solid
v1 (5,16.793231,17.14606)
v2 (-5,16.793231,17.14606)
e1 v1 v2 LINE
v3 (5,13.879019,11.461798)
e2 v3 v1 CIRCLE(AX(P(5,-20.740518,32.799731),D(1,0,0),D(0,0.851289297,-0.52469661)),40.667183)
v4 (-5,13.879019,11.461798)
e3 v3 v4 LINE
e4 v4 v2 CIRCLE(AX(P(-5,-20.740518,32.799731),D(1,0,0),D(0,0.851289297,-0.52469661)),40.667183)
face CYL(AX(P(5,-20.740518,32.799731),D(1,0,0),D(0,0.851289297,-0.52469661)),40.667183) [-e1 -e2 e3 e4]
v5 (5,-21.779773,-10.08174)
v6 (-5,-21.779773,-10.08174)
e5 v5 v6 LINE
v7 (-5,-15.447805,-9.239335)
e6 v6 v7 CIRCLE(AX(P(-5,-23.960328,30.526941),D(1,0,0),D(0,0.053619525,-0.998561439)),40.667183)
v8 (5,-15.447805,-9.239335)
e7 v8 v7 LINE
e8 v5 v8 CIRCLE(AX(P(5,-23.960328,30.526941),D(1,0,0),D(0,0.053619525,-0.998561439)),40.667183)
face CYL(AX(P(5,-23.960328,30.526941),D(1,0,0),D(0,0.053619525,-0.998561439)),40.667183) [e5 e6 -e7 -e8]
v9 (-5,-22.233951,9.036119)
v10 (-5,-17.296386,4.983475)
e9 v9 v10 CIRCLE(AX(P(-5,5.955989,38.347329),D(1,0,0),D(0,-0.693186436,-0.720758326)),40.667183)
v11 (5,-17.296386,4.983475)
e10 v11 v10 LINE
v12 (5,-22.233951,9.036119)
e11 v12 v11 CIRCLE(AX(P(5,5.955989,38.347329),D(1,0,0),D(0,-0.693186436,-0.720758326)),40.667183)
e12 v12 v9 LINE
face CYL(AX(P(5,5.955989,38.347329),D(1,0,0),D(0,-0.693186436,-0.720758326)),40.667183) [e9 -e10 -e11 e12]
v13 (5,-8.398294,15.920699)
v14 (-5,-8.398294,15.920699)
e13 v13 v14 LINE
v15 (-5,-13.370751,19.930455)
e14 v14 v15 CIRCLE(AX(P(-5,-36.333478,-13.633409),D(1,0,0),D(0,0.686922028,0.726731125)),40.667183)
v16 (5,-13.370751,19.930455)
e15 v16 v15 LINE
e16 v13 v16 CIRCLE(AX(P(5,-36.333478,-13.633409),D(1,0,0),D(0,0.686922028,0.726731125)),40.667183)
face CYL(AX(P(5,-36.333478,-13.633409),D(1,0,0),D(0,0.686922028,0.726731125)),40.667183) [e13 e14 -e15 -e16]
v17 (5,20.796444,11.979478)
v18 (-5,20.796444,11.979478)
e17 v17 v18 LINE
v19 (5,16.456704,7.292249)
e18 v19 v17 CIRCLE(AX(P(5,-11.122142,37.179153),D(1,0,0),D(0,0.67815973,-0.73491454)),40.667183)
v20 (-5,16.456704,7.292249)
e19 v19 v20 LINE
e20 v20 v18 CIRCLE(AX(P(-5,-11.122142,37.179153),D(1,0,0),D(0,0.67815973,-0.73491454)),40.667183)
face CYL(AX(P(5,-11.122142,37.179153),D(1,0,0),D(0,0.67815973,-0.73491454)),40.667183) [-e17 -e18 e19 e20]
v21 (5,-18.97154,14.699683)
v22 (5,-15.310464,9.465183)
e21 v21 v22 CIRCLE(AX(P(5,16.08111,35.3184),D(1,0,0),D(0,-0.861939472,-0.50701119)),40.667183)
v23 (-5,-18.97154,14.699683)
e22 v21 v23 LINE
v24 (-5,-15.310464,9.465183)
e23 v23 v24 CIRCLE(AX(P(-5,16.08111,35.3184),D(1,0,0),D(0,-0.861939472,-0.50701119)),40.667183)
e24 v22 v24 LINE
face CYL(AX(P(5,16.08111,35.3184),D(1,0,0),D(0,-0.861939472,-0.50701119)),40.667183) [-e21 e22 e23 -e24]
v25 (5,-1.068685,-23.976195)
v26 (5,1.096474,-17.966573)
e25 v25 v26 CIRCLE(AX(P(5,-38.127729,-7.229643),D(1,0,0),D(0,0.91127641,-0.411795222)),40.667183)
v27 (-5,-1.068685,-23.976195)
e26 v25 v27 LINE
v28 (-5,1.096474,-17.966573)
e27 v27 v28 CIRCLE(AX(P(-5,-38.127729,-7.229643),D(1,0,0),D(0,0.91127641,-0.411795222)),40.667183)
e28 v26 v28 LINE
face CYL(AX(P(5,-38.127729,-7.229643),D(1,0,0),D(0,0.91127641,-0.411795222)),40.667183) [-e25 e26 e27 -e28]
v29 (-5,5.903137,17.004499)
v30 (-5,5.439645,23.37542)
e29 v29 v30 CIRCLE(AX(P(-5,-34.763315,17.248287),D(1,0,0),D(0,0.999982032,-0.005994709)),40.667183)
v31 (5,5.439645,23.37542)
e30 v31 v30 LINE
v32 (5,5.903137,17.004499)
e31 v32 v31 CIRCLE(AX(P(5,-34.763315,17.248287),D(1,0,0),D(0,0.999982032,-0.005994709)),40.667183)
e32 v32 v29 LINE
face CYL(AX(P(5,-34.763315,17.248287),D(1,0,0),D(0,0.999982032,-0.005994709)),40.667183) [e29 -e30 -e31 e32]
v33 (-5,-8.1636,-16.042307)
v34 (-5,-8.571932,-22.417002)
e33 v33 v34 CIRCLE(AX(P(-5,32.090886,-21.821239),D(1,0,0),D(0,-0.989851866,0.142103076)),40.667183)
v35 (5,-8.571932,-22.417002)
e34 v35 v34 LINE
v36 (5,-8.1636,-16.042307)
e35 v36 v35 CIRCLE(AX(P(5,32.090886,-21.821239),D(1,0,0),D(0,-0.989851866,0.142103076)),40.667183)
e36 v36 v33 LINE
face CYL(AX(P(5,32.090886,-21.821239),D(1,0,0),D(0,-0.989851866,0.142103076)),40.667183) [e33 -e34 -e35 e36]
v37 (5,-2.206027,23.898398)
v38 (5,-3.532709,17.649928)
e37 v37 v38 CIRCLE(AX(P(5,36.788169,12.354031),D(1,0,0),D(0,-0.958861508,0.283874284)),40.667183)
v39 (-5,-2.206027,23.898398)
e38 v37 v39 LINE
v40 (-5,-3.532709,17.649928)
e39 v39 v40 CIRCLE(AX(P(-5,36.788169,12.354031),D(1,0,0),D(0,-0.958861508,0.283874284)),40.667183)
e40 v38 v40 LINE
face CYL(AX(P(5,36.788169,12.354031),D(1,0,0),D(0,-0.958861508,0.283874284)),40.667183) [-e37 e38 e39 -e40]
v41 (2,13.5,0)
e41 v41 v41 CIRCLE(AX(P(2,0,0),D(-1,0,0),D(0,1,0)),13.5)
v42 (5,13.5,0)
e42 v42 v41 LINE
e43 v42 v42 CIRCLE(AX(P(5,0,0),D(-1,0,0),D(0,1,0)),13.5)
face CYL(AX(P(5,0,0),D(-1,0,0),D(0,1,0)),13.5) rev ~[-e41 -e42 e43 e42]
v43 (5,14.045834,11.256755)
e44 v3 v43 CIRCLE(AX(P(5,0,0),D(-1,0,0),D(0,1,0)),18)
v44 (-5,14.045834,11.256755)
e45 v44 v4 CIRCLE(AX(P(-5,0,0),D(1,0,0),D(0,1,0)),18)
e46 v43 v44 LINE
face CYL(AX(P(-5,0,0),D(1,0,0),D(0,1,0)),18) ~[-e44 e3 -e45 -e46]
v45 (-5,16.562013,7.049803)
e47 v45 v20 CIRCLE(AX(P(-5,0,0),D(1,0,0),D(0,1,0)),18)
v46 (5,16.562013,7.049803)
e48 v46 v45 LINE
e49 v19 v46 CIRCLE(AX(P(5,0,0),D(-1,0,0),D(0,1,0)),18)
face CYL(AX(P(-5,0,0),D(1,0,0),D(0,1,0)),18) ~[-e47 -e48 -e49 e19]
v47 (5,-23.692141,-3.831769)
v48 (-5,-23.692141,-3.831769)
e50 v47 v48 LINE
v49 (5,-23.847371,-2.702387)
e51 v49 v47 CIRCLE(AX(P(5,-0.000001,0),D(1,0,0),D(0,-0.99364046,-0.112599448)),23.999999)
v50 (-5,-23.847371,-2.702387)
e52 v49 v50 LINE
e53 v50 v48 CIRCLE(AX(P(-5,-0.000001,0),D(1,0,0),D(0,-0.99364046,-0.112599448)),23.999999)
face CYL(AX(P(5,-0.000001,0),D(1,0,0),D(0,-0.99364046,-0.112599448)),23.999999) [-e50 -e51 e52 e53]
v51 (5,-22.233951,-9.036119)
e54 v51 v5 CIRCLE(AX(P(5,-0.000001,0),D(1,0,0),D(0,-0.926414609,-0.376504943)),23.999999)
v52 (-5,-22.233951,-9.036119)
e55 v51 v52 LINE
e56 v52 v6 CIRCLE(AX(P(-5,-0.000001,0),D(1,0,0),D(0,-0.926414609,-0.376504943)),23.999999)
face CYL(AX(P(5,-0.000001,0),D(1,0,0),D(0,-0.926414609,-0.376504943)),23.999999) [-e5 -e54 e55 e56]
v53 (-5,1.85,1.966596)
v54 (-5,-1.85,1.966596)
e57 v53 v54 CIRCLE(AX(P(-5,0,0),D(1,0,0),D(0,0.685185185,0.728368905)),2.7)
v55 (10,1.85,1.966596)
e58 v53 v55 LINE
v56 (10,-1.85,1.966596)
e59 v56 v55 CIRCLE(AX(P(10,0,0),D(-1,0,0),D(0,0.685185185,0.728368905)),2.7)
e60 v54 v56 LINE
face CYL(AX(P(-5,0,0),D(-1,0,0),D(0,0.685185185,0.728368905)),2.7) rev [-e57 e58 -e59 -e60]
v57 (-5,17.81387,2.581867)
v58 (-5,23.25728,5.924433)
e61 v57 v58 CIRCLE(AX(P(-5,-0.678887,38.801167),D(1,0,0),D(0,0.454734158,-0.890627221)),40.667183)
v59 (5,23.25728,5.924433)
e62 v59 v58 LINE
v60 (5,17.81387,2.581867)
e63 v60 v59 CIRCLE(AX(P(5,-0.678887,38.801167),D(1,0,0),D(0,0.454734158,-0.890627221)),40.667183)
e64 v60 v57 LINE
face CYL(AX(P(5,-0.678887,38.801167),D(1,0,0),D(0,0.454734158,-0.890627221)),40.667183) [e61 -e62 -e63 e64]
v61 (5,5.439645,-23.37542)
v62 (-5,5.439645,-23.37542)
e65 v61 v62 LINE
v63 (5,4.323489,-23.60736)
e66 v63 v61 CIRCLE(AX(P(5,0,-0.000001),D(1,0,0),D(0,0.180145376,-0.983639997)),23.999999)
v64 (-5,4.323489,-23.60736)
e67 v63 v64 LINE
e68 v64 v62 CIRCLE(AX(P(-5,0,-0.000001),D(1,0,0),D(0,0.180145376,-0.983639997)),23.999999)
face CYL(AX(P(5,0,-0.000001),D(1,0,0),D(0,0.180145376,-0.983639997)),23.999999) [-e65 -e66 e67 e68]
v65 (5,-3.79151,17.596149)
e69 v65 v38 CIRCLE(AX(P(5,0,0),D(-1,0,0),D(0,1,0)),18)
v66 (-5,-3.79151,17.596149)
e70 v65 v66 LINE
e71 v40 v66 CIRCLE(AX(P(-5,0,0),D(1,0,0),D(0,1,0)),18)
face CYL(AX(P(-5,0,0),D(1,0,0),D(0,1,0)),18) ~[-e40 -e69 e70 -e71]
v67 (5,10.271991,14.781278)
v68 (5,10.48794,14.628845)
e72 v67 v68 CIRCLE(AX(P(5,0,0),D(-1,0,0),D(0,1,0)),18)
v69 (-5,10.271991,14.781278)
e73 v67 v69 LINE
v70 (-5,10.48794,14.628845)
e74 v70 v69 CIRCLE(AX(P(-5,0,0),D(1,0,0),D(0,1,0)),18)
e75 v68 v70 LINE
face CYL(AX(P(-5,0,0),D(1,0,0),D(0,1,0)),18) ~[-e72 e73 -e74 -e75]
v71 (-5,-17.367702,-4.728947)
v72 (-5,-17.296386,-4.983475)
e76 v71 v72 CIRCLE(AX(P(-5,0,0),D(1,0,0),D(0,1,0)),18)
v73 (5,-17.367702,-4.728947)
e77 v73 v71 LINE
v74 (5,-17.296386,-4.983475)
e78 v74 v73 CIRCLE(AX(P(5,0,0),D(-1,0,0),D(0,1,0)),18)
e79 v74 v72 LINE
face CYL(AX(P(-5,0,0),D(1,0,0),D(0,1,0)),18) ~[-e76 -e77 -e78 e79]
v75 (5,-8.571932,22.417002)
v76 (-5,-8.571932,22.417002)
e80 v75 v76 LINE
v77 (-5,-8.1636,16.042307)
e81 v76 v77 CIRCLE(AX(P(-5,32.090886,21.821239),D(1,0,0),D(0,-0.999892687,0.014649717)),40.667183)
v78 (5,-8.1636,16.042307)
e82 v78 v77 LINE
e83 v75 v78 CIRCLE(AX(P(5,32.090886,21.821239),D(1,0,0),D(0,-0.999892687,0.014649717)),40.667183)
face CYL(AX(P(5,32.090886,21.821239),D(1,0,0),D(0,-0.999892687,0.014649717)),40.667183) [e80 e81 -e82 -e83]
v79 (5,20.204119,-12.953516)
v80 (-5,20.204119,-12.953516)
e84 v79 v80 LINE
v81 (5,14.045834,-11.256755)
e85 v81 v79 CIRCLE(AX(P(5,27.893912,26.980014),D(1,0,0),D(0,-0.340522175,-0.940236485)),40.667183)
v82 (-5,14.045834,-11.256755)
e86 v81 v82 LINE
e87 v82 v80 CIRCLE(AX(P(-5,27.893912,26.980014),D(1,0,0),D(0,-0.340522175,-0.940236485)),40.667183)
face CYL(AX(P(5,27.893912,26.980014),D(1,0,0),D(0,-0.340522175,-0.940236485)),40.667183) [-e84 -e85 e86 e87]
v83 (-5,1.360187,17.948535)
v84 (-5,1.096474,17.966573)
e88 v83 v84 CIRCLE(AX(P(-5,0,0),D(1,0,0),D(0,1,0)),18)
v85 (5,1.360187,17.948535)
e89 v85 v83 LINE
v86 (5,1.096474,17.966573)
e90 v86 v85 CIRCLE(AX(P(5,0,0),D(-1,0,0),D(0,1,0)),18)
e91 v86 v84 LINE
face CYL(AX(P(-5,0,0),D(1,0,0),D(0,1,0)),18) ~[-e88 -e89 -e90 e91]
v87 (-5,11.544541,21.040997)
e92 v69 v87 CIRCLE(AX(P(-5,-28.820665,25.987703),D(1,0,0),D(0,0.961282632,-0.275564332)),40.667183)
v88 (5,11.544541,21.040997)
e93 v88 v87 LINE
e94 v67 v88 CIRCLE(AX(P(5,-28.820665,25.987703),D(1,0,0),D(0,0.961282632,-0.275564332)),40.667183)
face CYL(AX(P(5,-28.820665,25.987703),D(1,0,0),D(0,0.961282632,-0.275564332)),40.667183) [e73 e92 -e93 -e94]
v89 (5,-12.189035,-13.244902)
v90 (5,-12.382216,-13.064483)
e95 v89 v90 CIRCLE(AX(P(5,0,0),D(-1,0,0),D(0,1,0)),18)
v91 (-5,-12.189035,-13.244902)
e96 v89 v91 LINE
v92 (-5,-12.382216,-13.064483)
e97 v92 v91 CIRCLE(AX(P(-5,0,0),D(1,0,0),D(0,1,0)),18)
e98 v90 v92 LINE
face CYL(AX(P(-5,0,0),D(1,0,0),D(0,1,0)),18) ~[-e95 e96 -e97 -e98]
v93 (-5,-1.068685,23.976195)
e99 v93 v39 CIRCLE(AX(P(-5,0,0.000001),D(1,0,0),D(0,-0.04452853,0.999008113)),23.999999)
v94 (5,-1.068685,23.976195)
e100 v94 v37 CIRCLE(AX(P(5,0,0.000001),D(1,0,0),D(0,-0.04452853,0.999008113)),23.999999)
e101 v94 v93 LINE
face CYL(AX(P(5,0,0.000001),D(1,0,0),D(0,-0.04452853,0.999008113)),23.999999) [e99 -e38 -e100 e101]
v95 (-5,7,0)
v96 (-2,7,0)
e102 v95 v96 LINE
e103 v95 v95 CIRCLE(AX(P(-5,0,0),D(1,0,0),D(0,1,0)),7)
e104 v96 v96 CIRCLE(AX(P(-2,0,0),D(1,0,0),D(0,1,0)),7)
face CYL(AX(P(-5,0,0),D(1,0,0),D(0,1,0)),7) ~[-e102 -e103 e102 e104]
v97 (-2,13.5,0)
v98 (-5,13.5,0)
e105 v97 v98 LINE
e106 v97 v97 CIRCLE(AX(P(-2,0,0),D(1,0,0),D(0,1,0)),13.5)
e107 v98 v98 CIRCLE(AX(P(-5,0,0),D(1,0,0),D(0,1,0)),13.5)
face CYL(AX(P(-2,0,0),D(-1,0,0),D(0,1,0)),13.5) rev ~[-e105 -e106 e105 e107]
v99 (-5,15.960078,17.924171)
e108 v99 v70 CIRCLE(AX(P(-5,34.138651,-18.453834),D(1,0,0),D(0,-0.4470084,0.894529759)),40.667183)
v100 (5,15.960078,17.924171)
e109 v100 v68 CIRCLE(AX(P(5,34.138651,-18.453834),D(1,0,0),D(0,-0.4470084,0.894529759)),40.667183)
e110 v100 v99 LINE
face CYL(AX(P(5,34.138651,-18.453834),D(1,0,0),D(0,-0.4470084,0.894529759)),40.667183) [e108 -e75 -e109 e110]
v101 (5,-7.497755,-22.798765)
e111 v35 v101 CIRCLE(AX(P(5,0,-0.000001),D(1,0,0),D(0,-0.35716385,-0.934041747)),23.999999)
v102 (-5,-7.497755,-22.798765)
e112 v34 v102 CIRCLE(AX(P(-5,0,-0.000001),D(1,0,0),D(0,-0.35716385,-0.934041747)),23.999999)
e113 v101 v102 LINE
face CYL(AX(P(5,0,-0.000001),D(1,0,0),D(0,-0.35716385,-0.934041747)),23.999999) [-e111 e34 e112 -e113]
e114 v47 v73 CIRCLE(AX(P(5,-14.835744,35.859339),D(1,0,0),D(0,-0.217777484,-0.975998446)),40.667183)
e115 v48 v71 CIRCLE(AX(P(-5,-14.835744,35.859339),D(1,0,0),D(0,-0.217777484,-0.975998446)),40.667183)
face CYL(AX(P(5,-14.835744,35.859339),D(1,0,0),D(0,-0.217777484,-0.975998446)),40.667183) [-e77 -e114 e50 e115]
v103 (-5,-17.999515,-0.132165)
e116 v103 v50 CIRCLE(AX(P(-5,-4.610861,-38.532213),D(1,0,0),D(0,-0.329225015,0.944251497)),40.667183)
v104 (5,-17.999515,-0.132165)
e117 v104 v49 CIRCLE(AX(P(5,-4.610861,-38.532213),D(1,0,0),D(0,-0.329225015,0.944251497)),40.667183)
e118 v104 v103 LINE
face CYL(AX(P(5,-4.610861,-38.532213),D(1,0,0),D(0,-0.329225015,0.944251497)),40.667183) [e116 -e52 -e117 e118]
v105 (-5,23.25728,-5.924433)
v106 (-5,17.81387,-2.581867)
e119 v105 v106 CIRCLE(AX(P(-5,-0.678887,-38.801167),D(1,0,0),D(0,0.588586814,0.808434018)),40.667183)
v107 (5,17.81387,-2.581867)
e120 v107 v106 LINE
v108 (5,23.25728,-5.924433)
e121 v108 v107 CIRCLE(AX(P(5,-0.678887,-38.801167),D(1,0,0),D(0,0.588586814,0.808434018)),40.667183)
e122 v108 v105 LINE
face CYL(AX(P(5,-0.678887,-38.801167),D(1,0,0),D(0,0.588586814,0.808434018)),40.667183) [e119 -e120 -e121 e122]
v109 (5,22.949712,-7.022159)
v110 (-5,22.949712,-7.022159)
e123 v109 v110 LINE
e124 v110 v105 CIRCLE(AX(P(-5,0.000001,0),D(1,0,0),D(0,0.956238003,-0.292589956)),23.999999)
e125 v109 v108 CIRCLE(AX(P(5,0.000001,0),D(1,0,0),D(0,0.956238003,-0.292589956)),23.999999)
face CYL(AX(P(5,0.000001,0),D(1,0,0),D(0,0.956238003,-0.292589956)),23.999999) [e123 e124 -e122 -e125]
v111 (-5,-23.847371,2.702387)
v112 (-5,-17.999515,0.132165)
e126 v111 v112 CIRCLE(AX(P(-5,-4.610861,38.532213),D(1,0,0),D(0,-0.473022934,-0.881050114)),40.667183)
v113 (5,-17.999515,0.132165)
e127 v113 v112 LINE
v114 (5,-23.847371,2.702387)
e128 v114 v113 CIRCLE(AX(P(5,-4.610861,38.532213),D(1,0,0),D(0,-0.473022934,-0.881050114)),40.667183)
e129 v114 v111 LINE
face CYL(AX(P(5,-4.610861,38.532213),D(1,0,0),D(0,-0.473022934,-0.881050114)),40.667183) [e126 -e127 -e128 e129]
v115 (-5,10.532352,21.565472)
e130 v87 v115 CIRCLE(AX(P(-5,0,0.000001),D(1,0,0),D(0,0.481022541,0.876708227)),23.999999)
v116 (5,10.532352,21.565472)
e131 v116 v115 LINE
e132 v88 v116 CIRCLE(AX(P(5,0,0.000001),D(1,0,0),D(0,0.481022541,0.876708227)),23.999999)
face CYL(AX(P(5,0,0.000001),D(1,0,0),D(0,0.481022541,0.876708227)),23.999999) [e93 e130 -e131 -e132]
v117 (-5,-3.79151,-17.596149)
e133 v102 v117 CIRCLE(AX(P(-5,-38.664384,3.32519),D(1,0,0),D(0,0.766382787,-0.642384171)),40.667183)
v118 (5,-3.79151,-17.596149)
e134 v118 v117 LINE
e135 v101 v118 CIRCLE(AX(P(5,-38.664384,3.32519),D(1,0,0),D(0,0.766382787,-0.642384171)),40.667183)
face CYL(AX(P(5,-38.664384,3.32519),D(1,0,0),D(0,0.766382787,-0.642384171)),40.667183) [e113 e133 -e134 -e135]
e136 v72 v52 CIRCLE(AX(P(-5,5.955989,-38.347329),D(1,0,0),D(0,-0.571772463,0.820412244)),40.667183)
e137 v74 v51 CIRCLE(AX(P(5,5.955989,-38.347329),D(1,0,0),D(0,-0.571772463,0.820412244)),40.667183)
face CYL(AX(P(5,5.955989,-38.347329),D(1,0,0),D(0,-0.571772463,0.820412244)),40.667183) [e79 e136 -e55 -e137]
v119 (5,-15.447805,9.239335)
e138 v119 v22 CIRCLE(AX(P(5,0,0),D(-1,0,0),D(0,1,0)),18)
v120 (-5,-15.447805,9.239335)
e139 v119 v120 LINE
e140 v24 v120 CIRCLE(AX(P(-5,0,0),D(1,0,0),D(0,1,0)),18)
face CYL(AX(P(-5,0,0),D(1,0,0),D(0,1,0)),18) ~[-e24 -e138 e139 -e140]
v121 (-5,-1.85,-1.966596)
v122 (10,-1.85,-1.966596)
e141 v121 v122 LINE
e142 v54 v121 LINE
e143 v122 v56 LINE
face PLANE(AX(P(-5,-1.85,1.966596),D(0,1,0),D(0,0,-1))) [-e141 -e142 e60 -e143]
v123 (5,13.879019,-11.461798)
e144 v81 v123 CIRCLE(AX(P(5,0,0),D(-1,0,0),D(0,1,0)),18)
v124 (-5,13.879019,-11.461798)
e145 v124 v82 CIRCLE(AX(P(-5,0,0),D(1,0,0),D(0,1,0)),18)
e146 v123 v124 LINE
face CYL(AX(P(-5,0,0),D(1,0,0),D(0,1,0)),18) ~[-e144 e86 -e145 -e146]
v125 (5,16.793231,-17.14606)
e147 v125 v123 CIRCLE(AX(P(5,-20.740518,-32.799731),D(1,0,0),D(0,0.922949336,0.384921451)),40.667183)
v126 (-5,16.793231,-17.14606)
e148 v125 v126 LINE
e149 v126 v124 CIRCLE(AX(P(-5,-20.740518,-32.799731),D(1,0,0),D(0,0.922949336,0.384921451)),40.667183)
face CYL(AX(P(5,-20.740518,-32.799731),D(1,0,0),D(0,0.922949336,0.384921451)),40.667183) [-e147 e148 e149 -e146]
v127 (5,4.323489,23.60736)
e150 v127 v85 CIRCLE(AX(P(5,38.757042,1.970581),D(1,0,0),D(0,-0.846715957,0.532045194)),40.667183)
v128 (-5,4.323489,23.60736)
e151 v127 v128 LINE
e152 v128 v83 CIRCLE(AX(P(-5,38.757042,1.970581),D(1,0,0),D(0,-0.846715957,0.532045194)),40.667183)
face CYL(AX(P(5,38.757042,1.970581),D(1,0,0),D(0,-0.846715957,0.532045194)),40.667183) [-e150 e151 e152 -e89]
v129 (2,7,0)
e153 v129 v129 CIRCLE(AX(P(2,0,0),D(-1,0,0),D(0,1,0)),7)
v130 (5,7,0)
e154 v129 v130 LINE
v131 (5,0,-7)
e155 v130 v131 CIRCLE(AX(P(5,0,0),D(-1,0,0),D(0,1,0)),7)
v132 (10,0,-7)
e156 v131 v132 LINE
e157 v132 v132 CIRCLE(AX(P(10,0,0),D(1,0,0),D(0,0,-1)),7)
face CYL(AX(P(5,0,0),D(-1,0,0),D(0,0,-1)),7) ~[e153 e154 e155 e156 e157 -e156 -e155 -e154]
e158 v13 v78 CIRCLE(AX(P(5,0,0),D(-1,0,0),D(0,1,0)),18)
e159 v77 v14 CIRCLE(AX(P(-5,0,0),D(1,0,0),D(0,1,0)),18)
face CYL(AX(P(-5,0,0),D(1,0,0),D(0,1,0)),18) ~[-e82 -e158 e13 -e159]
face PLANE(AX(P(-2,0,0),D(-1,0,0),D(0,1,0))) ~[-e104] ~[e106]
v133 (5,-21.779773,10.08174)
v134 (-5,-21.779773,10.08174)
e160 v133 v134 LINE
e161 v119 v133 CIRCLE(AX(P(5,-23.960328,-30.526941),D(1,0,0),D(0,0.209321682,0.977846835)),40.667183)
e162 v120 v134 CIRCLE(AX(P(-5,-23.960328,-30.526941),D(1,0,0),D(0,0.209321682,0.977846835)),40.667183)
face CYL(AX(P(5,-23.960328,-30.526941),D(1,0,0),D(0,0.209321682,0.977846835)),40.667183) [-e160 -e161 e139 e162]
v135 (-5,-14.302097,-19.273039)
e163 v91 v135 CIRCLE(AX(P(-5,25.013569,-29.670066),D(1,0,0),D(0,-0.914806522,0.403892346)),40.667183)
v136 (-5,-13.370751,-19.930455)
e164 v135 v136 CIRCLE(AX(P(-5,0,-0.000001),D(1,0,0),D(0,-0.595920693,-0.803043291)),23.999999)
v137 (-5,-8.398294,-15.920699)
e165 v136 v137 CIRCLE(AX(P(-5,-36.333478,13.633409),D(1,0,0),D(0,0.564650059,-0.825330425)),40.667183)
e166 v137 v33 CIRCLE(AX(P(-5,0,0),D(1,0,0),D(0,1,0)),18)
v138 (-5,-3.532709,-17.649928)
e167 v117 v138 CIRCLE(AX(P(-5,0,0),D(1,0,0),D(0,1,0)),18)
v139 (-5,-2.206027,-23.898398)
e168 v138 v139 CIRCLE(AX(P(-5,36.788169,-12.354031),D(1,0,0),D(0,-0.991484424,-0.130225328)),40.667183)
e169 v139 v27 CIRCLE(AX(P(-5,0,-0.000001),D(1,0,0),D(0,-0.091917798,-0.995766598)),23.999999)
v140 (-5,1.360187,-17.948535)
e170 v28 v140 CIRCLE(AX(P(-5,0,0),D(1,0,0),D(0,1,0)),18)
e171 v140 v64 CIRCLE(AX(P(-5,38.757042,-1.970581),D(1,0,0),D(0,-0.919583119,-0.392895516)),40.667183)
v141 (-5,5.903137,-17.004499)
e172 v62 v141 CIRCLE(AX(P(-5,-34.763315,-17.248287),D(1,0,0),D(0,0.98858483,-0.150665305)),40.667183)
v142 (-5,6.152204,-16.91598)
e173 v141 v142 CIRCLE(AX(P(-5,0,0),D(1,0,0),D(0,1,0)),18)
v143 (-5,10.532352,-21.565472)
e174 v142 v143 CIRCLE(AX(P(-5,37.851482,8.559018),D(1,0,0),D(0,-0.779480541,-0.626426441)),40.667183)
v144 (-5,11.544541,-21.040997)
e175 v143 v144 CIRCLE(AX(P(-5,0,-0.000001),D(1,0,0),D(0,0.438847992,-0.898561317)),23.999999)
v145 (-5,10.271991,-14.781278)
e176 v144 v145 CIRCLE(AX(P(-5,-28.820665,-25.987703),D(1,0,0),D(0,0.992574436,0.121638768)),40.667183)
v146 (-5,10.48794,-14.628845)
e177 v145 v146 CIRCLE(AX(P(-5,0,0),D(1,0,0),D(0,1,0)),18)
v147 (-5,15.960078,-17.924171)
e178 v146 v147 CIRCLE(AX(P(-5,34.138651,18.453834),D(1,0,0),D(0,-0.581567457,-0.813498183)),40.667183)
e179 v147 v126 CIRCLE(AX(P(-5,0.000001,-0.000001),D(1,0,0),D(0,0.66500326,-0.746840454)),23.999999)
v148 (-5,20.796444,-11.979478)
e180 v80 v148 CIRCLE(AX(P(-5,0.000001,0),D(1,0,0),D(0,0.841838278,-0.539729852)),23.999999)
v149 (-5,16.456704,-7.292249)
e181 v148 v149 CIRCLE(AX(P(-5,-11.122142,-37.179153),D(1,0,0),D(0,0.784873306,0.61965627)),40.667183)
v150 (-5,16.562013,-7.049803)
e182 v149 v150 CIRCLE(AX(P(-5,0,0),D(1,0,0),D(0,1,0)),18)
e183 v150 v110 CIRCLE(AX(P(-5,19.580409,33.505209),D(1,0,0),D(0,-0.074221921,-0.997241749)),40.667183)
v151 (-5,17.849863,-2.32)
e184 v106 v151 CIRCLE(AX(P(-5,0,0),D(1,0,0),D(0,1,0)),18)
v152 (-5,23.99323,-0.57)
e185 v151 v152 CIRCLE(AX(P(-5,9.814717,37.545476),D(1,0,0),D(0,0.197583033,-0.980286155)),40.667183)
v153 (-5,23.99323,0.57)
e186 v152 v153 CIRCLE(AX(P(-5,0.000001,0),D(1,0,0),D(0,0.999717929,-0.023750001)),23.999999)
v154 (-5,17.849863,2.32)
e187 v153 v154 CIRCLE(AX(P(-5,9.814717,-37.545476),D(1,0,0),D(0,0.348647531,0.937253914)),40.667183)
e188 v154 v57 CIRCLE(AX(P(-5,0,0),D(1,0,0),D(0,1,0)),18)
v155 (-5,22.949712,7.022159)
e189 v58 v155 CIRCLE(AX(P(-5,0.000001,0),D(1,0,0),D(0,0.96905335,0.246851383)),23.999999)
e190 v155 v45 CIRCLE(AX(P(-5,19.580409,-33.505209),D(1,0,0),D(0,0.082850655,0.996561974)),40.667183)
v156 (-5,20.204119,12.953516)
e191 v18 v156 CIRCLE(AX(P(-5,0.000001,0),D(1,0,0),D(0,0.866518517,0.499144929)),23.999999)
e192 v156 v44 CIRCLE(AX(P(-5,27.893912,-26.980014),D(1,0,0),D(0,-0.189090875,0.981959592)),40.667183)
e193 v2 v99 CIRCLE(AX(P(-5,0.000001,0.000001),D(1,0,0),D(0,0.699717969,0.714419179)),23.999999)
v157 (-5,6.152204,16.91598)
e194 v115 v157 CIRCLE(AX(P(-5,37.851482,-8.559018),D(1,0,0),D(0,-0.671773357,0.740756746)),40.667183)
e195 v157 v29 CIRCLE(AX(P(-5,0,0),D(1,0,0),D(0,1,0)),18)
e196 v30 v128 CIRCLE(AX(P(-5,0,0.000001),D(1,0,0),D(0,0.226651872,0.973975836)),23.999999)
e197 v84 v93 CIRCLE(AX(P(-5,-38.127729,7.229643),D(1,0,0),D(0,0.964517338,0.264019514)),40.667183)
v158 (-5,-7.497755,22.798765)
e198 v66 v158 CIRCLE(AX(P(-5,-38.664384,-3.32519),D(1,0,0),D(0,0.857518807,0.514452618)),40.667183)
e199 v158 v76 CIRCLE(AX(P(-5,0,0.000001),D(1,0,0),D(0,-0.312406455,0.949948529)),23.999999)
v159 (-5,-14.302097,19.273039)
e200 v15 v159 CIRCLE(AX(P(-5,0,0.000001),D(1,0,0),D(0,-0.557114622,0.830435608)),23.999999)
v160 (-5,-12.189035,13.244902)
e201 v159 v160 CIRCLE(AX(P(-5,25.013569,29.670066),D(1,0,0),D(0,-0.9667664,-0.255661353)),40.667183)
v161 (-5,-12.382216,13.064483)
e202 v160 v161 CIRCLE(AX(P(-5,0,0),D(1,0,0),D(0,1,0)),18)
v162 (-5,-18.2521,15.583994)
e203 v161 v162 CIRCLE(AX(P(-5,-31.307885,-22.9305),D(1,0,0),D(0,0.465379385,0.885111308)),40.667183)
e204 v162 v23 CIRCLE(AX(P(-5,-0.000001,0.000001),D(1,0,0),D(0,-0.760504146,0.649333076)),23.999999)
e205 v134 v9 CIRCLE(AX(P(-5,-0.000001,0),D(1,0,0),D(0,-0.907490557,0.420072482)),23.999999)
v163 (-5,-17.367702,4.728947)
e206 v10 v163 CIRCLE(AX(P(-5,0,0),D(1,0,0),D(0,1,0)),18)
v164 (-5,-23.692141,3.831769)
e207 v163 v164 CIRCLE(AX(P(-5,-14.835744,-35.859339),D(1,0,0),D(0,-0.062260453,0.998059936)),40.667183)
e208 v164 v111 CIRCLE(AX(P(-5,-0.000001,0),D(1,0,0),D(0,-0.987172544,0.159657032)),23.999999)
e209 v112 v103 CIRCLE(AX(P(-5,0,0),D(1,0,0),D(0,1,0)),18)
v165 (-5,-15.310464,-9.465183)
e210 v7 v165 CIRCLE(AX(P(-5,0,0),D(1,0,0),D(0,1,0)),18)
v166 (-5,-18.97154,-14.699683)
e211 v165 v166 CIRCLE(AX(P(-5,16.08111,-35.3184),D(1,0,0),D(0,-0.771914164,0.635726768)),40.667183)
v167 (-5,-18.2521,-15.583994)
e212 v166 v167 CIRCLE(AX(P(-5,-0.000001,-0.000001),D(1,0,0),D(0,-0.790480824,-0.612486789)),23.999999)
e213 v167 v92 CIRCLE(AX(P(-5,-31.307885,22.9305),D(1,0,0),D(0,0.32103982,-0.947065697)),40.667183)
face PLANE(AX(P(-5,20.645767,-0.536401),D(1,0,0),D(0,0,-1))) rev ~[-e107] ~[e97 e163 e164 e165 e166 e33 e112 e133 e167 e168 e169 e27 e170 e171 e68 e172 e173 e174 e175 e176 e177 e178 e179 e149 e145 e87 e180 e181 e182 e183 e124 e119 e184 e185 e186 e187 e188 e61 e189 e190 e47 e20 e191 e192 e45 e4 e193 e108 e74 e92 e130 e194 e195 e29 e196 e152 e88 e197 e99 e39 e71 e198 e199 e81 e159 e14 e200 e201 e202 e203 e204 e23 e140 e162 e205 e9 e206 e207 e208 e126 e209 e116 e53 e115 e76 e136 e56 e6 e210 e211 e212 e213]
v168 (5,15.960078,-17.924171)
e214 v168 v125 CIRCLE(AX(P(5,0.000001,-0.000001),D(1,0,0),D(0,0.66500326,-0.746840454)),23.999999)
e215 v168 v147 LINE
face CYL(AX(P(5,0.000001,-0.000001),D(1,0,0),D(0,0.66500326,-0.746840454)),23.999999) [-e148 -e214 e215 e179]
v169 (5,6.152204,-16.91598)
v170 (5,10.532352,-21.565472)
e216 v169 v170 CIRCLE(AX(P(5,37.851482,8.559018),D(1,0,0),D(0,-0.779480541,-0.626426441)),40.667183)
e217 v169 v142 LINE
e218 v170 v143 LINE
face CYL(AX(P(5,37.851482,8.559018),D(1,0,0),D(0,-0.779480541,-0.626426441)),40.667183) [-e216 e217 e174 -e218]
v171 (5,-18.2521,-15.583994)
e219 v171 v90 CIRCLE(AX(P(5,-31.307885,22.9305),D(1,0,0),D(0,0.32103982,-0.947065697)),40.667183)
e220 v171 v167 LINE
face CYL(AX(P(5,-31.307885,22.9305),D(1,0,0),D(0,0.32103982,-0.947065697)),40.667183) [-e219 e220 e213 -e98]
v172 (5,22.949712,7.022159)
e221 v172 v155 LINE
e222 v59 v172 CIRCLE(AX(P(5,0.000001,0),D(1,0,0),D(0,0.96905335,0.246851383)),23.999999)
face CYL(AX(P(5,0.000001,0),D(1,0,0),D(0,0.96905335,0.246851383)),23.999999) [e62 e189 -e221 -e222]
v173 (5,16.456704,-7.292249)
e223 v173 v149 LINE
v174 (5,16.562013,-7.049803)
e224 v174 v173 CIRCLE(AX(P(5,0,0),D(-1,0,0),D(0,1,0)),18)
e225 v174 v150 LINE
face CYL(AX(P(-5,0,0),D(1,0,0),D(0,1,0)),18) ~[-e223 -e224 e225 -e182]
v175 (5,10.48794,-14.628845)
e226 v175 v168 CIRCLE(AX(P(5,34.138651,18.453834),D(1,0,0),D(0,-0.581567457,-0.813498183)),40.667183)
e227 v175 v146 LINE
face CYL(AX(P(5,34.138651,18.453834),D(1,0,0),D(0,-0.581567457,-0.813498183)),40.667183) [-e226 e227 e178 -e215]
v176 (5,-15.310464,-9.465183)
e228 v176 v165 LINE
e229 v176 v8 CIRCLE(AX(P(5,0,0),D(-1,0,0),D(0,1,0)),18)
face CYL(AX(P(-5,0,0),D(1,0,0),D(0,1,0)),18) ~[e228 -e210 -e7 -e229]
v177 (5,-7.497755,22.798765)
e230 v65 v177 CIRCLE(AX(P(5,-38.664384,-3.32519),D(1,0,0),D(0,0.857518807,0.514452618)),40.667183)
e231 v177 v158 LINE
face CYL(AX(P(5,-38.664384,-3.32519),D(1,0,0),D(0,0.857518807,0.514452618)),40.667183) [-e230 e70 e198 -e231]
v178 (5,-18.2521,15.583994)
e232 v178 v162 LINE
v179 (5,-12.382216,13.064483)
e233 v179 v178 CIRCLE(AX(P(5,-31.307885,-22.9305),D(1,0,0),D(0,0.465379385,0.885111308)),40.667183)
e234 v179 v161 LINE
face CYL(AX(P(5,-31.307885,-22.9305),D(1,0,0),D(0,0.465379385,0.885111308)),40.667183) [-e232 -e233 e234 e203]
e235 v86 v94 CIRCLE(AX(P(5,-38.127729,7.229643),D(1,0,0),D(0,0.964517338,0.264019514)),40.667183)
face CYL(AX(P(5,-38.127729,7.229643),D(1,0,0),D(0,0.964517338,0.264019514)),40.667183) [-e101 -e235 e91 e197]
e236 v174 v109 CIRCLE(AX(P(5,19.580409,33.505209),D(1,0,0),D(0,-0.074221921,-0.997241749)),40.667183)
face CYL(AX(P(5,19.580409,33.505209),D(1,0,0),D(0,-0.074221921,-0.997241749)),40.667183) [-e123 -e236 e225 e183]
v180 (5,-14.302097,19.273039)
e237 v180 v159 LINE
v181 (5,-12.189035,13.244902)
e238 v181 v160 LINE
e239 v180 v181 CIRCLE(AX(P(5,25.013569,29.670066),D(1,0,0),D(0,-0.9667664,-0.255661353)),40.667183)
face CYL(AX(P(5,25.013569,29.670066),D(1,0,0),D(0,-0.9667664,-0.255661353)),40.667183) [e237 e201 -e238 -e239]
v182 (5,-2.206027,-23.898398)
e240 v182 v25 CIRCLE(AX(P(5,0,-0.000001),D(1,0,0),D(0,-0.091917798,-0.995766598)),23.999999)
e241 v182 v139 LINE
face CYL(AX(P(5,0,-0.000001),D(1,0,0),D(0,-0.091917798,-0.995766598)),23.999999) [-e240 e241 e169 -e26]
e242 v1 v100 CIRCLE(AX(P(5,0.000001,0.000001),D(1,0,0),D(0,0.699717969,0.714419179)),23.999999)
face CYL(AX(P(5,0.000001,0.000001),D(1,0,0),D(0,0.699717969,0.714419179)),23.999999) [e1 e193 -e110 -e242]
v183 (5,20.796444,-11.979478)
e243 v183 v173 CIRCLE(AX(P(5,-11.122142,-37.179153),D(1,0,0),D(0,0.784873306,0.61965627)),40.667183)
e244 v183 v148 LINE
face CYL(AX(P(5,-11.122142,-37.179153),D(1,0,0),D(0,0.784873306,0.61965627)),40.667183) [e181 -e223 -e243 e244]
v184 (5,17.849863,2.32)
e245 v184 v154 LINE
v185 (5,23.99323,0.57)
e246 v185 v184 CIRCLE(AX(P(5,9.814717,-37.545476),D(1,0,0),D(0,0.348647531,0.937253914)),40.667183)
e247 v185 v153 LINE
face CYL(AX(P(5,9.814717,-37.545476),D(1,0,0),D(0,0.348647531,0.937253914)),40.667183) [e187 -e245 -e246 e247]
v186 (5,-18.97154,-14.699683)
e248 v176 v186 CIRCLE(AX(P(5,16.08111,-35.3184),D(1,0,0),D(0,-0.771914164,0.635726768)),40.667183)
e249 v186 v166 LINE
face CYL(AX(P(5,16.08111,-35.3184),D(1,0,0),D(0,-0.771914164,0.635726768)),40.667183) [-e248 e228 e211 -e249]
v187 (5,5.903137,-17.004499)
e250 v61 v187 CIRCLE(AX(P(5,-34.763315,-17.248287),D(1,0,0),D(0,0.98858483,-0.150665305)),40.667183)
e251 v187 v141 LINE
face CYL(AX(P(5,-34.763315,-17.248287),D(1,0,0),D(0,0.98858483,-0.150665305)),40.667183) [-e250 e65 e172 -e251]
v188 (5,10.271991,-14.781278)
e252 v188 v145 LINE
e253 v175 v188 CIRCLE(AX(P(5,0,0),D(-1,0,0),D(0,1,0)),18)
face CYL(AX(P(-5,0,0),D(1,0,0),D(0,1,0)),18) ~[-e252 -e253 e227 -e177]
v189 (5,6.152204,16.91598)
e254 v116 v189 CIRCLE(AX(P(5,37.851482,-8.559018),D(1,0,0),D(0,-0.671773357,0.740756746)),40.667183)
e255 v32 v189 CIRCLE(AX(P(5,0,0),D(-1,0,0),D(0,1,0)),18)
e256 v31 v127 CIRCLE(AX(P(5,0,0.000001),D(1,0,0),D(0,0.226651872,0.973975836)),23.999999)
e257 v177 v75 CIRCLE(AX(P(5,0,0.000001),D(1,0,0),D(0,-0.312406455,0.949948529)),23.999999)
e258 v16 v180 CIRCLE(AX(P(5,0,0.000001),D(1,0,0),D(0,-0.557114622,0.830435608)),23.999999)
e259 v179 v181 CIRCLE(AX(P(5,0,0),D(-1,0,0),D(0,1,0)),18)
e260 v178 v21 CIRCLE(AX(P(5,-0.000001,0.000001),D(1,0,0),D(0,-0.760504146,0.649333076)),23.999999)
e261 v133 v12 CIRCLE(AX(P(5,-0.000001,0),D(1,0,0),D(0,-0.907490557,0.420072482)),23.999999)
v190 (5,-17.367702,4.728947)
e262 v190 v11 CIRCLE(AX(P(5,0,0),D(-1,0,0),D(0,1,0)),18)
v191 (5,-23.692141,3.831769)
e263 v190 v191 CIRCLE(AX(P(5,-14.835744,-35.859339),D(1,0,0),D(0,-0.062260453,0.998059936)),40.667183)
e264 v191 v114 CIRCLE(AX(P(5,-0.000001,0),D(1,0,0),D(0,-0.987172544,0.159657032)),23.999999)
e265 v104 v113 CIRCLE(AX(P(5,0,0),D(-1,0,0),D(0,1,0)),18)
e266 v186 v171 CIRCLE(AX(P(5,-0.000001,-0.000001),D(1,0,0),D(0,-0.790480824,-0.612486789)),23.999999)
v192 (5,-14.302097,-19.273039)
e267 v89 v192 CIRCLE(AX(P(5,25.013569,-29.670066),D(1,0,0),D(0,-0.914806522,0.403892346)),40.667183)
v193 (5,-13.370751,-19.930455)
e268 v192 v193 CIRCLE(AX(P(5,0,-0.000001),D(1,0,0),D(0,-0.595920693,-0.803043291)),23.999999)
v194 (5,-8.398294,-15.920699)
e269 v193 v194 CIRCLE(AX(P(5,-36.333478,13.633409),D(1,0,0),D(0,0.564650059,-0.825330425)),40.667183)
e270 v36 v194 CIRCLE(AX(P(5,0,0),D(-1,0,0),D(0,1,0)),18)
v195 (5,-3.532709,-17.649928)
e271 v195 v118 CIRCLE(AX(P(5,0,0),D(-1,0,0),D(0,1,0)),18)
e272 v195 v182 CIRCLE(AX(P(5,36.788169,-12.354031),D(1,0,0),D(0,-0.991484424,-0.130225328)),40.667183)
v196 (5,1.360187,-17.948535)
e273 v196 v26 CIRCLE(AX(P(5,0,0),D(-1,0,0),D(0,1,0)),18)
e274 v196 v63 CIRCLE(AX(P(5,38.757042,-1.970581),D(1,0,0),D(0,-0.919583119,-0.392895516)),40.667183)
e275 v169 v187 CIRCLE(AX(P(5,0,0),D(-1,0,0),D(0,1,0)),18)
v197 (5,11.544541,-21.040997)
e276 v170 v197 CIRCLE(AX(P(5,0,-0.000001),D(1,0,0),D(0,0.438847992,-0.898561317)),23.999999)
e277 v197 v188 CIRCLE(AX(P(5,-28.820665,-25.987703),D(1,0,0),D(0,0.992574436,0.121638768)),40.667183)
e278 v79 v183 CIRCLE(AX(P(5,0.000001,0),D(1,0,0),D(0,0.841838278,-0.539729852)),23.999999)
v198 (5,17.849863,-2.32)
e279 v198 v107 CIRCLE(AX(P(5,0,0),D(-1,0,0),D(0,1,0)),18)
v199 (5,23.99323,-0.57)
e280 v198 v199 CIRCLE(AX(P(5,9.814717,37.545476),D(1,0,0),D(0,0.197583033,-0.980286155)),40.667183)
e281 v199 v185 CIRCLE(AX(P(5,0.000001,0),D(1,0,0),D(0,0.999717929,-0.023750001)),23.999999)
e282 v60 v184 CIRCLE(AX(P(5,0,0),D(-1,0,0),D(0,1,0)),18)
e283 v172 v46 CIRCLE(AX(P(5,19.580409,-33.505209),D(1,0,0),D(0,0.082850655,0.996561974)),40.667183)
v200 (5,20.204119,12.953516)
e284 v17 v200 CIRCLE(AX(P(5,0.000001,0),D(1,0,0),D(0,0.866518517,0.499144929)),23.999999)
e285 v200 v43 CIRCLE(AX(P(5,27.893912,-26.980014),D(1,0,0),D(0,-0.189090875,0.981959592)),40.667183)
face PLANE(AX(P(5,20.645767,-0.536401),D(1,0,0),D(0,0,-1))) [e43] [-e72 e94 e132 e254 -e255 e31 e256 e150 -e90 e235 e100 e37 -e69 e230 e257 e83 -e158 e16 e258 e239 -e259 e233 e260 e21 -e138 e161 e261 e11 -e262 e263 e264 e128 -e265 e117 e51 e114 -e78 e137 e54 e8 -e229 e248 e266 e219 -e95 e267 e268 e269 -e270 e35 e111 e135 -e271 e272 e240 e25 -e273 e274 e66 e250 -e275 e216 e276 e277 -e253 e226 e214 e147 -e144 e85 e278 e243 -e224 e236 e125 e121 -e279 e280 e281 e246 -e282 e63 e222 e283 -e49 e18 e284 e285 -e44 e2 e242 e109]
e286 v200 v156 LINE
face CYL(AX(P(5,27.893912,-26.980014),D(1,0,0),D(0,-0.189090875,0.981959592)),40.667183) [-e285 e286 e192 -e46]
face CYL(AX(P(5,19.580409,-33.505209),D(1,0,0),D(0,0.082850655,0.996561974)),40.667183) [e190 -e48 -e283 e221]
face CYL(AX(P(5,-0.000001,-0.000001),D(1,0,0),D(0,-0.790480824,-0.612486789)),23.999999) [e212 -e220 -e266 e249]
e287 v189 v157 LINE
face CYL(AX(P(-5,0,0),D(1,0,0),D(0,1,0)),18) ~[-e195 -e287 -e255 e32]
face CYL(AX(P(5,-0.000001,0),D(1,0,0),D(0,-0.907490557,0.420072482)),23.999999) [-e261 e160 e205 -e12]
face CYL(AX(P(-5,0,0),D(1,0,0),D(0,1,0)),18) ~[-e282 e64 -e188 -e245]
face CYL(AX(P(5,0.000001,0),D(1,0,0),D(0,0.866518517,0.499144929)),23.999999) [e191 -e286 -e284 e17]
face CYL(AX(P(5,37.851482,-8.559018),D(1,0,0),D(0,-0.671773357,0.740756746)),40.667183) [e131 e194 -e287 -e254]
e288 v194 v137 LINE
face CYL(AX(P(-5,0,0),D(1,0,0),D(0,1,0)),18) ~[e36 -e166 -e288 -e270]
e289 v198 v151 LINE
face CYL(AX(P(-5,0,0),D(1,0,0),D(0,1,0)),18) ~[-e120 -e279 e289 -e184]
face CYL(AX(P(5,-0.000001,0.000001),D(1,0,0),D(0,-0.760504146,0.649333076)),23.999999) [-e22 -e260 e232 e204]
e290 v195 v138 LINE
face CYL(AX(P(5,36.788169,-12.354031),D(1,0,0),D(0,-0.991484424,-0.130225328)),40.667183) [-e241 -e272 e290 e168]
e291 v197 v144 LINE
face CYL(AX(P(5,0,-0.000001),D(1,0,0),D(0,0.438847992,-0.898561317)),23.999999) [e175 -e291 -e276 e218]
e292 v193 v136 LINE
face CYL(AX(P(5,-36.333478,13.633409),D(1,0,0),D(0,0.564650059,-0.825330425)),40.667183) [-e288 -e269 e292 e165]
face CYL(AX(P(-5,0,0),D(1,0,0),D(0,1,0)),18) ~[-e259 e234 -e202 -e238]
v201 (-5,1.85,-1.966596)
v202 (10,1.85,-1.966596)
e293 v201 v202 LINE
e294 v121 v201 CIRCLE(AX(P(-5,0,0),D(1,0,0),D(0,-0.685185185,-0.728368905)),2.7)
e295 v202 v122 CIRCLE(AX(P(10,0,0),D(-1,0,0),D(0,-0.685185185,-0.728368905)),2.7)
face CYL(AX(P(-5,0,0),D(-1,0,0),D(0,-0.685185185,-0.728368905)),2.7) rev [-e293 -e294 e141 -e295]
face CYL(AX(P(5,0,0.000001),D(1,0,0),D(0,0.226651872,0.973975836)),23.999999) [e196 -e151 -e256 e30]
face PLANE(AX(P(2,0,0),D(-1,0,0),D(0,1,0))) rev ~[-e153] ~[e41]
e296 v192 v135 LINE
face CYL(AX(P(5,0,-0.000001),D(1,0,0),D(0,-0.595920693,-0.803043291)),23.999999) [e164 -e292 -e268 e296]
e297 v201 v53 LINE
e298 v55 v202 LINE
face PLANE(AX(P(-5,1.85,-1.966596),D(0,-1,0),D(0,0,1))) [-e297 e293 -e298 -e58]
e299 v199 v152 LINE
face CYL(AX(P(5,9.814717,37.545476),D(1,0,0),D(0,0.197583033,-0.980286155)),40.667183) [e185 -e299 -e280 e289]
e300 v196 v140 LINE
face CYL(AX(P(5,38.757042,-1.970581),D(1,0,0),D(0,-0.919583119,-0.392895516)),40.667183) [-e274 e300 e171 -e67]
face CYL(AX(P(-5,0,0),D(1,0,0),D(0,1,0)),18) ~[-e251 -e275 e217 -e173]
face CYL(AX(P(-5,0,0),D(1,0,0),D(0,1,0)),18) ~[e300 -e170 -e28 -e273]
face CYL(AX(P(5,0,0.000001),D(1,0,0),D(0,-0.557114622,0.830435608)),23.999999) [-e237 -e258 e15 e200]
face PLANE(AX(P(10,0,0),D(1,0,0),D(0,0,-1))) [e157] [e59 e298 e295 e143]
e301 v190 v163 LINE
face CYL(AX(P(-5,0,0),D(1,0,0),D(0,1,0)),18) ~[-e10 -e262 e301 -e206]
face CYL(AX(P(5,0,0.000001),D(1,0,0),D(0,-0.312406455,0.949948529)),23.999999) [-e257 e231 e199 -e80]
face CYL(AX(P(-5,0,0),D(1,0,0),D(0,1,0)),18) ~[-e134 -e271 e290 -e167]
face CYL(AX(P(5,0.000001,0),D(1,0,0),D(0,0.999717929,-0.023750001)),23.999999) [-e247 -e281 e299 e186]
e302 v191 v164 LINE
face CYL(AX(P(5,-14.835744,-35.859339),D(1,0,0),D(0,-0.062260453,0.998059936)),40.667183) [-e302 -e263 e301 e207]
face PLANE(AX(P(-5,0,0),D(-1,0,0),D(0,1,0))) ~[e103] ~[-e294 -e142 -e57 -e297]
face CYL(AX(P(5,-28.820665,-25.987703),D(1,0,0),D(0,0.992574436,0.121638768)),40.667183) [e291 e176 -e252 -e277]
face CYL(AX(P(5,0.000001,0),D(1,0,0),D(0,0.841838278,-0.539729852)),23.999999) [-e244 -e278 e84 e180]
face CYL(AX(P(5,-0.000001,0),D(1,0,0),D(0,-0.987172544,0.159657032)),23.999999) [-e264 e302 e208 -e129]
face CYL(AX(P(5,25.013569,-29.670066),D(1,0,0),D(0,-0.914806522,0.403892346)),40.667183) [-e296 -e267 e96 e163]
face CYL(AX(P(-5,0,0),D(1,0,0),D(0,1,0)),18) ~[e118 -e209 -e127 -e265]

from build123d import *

# Parameters (mm, degrees)
REVOLVE_1_ANGLE          = 360
EXTRUDE_1_DEPTH          = 10
PATTERN_CIRCULAR_1_COUNT = 23
SKETCH_6_R               = 7
EXTRUDE_2_DEPTH          = 5
CUT_EXTRUDE_2_DEPTH      = 16


with BuildPart() as part:
    # 스케치3 → 회전1 (revolve, symmetric)
    with BuildSketch(Plane.XY) as revolve_1_sk:
        Polygon((-5, 18), (5, 18), (5, 13.5), (2, 13.5), (2, 7), (5, 7), (5, 0), (-5, 0), (-5, 7), (-2, 7), (-2, 13.5), (-5, 13.5), align=None)
    revolve(axis=Axis((-44.782034346, 0, 0), (1, 0, 0)), revolution_arc=REVOLVE_1_ANGLE / 2)
    revolve(revolve_1_sk.sketch, axis=Axis((-44.782034346, 0, 0), (-1, 0, 0)), revolution_arc=REVOLVE_1_ANGLE / 2)

    # 스케치4 → 보스-돌출1 (add, through all)
    with BuildSketch(Plane(origin=(5, 0, 0), x_dir=(0, 0, -1), z_dir=(1, 0, 0))):
        with BuildLine():
            ThreePointArc((0.57, 23.993230295), (0, 24), (-0.57, 23.993230295))
            Line((-0.57, 23.993230295), (-0.57, 17.990972736))
            ThreePointArc((-0.57, 17.990972736), (0.877839967, 17.978581618), (2.32, 17.849862745))
            ThreePointArc((2.32, 17.849862745), (1.565807025, 20.955959615), (0.57, 23.993230295))
        make_face()
        with BuildLine():
            Line((-0.57, 17.990972736), (-0.57, 23.993230295))
            ThreePointArc((-0.57, 23.993230295), (-1.565807025, 20.955959615), (-2.32, 17.849862745))
            ThreePointArc((-2.32, 17.849862745), (-1.446721469, 17.94176683), (-0.57, 17.990972736))
        make_face()
    extrude_1 = extrude(amount=-EXTRUDE_1_DEPTH)

    # 원형 패턴1: 보스-돌출1 ×23 about axis
    pattern_circular_1_axis = Axis((0, 0, 0), (1, 0, 0))
    for i in range(1, PATTERN_CIRCULAR_1_COUNT):
        add(extrude_1.rotate(pattern_circular_1_axis, i * 360 / PATTERN_CIRCULAR_1_COUNT))

    # 스케치6 → 보스-돌출2 (add)
    with BuildSketch(Plane(origin=(5, 0, 0), x_dir=(0, 0, -1), z_dir=(1, 0, 0))):
        Circle(SKETCH_6_R)
    extrude(amount=EXTRUDE_2_DEPTH)

    # 스케치7 → 컷-돌출2 (cut, through all)
    with BuildSketch(Plane.ZY.offset(5)):
        with BuildLine():
            Line((1.966596044, -1.85), (-1.966596044, -1.85))
            ThreePointArc((-1.966596044, -1.85), (-2.7, 0), (-1.966596044, 1.85))
            Line((-1.966596044, 1.85), (1.966596044, 1.85))
            ThreePointArc((1.966596044, 1.85), (2.7, 0), (1.966596044, -1.85))
        make_face()
    extrude(amount=-CUT_EXTRUDE_2_DEPTH, mode=Mode.SUBTRACT)


solid = part.part
